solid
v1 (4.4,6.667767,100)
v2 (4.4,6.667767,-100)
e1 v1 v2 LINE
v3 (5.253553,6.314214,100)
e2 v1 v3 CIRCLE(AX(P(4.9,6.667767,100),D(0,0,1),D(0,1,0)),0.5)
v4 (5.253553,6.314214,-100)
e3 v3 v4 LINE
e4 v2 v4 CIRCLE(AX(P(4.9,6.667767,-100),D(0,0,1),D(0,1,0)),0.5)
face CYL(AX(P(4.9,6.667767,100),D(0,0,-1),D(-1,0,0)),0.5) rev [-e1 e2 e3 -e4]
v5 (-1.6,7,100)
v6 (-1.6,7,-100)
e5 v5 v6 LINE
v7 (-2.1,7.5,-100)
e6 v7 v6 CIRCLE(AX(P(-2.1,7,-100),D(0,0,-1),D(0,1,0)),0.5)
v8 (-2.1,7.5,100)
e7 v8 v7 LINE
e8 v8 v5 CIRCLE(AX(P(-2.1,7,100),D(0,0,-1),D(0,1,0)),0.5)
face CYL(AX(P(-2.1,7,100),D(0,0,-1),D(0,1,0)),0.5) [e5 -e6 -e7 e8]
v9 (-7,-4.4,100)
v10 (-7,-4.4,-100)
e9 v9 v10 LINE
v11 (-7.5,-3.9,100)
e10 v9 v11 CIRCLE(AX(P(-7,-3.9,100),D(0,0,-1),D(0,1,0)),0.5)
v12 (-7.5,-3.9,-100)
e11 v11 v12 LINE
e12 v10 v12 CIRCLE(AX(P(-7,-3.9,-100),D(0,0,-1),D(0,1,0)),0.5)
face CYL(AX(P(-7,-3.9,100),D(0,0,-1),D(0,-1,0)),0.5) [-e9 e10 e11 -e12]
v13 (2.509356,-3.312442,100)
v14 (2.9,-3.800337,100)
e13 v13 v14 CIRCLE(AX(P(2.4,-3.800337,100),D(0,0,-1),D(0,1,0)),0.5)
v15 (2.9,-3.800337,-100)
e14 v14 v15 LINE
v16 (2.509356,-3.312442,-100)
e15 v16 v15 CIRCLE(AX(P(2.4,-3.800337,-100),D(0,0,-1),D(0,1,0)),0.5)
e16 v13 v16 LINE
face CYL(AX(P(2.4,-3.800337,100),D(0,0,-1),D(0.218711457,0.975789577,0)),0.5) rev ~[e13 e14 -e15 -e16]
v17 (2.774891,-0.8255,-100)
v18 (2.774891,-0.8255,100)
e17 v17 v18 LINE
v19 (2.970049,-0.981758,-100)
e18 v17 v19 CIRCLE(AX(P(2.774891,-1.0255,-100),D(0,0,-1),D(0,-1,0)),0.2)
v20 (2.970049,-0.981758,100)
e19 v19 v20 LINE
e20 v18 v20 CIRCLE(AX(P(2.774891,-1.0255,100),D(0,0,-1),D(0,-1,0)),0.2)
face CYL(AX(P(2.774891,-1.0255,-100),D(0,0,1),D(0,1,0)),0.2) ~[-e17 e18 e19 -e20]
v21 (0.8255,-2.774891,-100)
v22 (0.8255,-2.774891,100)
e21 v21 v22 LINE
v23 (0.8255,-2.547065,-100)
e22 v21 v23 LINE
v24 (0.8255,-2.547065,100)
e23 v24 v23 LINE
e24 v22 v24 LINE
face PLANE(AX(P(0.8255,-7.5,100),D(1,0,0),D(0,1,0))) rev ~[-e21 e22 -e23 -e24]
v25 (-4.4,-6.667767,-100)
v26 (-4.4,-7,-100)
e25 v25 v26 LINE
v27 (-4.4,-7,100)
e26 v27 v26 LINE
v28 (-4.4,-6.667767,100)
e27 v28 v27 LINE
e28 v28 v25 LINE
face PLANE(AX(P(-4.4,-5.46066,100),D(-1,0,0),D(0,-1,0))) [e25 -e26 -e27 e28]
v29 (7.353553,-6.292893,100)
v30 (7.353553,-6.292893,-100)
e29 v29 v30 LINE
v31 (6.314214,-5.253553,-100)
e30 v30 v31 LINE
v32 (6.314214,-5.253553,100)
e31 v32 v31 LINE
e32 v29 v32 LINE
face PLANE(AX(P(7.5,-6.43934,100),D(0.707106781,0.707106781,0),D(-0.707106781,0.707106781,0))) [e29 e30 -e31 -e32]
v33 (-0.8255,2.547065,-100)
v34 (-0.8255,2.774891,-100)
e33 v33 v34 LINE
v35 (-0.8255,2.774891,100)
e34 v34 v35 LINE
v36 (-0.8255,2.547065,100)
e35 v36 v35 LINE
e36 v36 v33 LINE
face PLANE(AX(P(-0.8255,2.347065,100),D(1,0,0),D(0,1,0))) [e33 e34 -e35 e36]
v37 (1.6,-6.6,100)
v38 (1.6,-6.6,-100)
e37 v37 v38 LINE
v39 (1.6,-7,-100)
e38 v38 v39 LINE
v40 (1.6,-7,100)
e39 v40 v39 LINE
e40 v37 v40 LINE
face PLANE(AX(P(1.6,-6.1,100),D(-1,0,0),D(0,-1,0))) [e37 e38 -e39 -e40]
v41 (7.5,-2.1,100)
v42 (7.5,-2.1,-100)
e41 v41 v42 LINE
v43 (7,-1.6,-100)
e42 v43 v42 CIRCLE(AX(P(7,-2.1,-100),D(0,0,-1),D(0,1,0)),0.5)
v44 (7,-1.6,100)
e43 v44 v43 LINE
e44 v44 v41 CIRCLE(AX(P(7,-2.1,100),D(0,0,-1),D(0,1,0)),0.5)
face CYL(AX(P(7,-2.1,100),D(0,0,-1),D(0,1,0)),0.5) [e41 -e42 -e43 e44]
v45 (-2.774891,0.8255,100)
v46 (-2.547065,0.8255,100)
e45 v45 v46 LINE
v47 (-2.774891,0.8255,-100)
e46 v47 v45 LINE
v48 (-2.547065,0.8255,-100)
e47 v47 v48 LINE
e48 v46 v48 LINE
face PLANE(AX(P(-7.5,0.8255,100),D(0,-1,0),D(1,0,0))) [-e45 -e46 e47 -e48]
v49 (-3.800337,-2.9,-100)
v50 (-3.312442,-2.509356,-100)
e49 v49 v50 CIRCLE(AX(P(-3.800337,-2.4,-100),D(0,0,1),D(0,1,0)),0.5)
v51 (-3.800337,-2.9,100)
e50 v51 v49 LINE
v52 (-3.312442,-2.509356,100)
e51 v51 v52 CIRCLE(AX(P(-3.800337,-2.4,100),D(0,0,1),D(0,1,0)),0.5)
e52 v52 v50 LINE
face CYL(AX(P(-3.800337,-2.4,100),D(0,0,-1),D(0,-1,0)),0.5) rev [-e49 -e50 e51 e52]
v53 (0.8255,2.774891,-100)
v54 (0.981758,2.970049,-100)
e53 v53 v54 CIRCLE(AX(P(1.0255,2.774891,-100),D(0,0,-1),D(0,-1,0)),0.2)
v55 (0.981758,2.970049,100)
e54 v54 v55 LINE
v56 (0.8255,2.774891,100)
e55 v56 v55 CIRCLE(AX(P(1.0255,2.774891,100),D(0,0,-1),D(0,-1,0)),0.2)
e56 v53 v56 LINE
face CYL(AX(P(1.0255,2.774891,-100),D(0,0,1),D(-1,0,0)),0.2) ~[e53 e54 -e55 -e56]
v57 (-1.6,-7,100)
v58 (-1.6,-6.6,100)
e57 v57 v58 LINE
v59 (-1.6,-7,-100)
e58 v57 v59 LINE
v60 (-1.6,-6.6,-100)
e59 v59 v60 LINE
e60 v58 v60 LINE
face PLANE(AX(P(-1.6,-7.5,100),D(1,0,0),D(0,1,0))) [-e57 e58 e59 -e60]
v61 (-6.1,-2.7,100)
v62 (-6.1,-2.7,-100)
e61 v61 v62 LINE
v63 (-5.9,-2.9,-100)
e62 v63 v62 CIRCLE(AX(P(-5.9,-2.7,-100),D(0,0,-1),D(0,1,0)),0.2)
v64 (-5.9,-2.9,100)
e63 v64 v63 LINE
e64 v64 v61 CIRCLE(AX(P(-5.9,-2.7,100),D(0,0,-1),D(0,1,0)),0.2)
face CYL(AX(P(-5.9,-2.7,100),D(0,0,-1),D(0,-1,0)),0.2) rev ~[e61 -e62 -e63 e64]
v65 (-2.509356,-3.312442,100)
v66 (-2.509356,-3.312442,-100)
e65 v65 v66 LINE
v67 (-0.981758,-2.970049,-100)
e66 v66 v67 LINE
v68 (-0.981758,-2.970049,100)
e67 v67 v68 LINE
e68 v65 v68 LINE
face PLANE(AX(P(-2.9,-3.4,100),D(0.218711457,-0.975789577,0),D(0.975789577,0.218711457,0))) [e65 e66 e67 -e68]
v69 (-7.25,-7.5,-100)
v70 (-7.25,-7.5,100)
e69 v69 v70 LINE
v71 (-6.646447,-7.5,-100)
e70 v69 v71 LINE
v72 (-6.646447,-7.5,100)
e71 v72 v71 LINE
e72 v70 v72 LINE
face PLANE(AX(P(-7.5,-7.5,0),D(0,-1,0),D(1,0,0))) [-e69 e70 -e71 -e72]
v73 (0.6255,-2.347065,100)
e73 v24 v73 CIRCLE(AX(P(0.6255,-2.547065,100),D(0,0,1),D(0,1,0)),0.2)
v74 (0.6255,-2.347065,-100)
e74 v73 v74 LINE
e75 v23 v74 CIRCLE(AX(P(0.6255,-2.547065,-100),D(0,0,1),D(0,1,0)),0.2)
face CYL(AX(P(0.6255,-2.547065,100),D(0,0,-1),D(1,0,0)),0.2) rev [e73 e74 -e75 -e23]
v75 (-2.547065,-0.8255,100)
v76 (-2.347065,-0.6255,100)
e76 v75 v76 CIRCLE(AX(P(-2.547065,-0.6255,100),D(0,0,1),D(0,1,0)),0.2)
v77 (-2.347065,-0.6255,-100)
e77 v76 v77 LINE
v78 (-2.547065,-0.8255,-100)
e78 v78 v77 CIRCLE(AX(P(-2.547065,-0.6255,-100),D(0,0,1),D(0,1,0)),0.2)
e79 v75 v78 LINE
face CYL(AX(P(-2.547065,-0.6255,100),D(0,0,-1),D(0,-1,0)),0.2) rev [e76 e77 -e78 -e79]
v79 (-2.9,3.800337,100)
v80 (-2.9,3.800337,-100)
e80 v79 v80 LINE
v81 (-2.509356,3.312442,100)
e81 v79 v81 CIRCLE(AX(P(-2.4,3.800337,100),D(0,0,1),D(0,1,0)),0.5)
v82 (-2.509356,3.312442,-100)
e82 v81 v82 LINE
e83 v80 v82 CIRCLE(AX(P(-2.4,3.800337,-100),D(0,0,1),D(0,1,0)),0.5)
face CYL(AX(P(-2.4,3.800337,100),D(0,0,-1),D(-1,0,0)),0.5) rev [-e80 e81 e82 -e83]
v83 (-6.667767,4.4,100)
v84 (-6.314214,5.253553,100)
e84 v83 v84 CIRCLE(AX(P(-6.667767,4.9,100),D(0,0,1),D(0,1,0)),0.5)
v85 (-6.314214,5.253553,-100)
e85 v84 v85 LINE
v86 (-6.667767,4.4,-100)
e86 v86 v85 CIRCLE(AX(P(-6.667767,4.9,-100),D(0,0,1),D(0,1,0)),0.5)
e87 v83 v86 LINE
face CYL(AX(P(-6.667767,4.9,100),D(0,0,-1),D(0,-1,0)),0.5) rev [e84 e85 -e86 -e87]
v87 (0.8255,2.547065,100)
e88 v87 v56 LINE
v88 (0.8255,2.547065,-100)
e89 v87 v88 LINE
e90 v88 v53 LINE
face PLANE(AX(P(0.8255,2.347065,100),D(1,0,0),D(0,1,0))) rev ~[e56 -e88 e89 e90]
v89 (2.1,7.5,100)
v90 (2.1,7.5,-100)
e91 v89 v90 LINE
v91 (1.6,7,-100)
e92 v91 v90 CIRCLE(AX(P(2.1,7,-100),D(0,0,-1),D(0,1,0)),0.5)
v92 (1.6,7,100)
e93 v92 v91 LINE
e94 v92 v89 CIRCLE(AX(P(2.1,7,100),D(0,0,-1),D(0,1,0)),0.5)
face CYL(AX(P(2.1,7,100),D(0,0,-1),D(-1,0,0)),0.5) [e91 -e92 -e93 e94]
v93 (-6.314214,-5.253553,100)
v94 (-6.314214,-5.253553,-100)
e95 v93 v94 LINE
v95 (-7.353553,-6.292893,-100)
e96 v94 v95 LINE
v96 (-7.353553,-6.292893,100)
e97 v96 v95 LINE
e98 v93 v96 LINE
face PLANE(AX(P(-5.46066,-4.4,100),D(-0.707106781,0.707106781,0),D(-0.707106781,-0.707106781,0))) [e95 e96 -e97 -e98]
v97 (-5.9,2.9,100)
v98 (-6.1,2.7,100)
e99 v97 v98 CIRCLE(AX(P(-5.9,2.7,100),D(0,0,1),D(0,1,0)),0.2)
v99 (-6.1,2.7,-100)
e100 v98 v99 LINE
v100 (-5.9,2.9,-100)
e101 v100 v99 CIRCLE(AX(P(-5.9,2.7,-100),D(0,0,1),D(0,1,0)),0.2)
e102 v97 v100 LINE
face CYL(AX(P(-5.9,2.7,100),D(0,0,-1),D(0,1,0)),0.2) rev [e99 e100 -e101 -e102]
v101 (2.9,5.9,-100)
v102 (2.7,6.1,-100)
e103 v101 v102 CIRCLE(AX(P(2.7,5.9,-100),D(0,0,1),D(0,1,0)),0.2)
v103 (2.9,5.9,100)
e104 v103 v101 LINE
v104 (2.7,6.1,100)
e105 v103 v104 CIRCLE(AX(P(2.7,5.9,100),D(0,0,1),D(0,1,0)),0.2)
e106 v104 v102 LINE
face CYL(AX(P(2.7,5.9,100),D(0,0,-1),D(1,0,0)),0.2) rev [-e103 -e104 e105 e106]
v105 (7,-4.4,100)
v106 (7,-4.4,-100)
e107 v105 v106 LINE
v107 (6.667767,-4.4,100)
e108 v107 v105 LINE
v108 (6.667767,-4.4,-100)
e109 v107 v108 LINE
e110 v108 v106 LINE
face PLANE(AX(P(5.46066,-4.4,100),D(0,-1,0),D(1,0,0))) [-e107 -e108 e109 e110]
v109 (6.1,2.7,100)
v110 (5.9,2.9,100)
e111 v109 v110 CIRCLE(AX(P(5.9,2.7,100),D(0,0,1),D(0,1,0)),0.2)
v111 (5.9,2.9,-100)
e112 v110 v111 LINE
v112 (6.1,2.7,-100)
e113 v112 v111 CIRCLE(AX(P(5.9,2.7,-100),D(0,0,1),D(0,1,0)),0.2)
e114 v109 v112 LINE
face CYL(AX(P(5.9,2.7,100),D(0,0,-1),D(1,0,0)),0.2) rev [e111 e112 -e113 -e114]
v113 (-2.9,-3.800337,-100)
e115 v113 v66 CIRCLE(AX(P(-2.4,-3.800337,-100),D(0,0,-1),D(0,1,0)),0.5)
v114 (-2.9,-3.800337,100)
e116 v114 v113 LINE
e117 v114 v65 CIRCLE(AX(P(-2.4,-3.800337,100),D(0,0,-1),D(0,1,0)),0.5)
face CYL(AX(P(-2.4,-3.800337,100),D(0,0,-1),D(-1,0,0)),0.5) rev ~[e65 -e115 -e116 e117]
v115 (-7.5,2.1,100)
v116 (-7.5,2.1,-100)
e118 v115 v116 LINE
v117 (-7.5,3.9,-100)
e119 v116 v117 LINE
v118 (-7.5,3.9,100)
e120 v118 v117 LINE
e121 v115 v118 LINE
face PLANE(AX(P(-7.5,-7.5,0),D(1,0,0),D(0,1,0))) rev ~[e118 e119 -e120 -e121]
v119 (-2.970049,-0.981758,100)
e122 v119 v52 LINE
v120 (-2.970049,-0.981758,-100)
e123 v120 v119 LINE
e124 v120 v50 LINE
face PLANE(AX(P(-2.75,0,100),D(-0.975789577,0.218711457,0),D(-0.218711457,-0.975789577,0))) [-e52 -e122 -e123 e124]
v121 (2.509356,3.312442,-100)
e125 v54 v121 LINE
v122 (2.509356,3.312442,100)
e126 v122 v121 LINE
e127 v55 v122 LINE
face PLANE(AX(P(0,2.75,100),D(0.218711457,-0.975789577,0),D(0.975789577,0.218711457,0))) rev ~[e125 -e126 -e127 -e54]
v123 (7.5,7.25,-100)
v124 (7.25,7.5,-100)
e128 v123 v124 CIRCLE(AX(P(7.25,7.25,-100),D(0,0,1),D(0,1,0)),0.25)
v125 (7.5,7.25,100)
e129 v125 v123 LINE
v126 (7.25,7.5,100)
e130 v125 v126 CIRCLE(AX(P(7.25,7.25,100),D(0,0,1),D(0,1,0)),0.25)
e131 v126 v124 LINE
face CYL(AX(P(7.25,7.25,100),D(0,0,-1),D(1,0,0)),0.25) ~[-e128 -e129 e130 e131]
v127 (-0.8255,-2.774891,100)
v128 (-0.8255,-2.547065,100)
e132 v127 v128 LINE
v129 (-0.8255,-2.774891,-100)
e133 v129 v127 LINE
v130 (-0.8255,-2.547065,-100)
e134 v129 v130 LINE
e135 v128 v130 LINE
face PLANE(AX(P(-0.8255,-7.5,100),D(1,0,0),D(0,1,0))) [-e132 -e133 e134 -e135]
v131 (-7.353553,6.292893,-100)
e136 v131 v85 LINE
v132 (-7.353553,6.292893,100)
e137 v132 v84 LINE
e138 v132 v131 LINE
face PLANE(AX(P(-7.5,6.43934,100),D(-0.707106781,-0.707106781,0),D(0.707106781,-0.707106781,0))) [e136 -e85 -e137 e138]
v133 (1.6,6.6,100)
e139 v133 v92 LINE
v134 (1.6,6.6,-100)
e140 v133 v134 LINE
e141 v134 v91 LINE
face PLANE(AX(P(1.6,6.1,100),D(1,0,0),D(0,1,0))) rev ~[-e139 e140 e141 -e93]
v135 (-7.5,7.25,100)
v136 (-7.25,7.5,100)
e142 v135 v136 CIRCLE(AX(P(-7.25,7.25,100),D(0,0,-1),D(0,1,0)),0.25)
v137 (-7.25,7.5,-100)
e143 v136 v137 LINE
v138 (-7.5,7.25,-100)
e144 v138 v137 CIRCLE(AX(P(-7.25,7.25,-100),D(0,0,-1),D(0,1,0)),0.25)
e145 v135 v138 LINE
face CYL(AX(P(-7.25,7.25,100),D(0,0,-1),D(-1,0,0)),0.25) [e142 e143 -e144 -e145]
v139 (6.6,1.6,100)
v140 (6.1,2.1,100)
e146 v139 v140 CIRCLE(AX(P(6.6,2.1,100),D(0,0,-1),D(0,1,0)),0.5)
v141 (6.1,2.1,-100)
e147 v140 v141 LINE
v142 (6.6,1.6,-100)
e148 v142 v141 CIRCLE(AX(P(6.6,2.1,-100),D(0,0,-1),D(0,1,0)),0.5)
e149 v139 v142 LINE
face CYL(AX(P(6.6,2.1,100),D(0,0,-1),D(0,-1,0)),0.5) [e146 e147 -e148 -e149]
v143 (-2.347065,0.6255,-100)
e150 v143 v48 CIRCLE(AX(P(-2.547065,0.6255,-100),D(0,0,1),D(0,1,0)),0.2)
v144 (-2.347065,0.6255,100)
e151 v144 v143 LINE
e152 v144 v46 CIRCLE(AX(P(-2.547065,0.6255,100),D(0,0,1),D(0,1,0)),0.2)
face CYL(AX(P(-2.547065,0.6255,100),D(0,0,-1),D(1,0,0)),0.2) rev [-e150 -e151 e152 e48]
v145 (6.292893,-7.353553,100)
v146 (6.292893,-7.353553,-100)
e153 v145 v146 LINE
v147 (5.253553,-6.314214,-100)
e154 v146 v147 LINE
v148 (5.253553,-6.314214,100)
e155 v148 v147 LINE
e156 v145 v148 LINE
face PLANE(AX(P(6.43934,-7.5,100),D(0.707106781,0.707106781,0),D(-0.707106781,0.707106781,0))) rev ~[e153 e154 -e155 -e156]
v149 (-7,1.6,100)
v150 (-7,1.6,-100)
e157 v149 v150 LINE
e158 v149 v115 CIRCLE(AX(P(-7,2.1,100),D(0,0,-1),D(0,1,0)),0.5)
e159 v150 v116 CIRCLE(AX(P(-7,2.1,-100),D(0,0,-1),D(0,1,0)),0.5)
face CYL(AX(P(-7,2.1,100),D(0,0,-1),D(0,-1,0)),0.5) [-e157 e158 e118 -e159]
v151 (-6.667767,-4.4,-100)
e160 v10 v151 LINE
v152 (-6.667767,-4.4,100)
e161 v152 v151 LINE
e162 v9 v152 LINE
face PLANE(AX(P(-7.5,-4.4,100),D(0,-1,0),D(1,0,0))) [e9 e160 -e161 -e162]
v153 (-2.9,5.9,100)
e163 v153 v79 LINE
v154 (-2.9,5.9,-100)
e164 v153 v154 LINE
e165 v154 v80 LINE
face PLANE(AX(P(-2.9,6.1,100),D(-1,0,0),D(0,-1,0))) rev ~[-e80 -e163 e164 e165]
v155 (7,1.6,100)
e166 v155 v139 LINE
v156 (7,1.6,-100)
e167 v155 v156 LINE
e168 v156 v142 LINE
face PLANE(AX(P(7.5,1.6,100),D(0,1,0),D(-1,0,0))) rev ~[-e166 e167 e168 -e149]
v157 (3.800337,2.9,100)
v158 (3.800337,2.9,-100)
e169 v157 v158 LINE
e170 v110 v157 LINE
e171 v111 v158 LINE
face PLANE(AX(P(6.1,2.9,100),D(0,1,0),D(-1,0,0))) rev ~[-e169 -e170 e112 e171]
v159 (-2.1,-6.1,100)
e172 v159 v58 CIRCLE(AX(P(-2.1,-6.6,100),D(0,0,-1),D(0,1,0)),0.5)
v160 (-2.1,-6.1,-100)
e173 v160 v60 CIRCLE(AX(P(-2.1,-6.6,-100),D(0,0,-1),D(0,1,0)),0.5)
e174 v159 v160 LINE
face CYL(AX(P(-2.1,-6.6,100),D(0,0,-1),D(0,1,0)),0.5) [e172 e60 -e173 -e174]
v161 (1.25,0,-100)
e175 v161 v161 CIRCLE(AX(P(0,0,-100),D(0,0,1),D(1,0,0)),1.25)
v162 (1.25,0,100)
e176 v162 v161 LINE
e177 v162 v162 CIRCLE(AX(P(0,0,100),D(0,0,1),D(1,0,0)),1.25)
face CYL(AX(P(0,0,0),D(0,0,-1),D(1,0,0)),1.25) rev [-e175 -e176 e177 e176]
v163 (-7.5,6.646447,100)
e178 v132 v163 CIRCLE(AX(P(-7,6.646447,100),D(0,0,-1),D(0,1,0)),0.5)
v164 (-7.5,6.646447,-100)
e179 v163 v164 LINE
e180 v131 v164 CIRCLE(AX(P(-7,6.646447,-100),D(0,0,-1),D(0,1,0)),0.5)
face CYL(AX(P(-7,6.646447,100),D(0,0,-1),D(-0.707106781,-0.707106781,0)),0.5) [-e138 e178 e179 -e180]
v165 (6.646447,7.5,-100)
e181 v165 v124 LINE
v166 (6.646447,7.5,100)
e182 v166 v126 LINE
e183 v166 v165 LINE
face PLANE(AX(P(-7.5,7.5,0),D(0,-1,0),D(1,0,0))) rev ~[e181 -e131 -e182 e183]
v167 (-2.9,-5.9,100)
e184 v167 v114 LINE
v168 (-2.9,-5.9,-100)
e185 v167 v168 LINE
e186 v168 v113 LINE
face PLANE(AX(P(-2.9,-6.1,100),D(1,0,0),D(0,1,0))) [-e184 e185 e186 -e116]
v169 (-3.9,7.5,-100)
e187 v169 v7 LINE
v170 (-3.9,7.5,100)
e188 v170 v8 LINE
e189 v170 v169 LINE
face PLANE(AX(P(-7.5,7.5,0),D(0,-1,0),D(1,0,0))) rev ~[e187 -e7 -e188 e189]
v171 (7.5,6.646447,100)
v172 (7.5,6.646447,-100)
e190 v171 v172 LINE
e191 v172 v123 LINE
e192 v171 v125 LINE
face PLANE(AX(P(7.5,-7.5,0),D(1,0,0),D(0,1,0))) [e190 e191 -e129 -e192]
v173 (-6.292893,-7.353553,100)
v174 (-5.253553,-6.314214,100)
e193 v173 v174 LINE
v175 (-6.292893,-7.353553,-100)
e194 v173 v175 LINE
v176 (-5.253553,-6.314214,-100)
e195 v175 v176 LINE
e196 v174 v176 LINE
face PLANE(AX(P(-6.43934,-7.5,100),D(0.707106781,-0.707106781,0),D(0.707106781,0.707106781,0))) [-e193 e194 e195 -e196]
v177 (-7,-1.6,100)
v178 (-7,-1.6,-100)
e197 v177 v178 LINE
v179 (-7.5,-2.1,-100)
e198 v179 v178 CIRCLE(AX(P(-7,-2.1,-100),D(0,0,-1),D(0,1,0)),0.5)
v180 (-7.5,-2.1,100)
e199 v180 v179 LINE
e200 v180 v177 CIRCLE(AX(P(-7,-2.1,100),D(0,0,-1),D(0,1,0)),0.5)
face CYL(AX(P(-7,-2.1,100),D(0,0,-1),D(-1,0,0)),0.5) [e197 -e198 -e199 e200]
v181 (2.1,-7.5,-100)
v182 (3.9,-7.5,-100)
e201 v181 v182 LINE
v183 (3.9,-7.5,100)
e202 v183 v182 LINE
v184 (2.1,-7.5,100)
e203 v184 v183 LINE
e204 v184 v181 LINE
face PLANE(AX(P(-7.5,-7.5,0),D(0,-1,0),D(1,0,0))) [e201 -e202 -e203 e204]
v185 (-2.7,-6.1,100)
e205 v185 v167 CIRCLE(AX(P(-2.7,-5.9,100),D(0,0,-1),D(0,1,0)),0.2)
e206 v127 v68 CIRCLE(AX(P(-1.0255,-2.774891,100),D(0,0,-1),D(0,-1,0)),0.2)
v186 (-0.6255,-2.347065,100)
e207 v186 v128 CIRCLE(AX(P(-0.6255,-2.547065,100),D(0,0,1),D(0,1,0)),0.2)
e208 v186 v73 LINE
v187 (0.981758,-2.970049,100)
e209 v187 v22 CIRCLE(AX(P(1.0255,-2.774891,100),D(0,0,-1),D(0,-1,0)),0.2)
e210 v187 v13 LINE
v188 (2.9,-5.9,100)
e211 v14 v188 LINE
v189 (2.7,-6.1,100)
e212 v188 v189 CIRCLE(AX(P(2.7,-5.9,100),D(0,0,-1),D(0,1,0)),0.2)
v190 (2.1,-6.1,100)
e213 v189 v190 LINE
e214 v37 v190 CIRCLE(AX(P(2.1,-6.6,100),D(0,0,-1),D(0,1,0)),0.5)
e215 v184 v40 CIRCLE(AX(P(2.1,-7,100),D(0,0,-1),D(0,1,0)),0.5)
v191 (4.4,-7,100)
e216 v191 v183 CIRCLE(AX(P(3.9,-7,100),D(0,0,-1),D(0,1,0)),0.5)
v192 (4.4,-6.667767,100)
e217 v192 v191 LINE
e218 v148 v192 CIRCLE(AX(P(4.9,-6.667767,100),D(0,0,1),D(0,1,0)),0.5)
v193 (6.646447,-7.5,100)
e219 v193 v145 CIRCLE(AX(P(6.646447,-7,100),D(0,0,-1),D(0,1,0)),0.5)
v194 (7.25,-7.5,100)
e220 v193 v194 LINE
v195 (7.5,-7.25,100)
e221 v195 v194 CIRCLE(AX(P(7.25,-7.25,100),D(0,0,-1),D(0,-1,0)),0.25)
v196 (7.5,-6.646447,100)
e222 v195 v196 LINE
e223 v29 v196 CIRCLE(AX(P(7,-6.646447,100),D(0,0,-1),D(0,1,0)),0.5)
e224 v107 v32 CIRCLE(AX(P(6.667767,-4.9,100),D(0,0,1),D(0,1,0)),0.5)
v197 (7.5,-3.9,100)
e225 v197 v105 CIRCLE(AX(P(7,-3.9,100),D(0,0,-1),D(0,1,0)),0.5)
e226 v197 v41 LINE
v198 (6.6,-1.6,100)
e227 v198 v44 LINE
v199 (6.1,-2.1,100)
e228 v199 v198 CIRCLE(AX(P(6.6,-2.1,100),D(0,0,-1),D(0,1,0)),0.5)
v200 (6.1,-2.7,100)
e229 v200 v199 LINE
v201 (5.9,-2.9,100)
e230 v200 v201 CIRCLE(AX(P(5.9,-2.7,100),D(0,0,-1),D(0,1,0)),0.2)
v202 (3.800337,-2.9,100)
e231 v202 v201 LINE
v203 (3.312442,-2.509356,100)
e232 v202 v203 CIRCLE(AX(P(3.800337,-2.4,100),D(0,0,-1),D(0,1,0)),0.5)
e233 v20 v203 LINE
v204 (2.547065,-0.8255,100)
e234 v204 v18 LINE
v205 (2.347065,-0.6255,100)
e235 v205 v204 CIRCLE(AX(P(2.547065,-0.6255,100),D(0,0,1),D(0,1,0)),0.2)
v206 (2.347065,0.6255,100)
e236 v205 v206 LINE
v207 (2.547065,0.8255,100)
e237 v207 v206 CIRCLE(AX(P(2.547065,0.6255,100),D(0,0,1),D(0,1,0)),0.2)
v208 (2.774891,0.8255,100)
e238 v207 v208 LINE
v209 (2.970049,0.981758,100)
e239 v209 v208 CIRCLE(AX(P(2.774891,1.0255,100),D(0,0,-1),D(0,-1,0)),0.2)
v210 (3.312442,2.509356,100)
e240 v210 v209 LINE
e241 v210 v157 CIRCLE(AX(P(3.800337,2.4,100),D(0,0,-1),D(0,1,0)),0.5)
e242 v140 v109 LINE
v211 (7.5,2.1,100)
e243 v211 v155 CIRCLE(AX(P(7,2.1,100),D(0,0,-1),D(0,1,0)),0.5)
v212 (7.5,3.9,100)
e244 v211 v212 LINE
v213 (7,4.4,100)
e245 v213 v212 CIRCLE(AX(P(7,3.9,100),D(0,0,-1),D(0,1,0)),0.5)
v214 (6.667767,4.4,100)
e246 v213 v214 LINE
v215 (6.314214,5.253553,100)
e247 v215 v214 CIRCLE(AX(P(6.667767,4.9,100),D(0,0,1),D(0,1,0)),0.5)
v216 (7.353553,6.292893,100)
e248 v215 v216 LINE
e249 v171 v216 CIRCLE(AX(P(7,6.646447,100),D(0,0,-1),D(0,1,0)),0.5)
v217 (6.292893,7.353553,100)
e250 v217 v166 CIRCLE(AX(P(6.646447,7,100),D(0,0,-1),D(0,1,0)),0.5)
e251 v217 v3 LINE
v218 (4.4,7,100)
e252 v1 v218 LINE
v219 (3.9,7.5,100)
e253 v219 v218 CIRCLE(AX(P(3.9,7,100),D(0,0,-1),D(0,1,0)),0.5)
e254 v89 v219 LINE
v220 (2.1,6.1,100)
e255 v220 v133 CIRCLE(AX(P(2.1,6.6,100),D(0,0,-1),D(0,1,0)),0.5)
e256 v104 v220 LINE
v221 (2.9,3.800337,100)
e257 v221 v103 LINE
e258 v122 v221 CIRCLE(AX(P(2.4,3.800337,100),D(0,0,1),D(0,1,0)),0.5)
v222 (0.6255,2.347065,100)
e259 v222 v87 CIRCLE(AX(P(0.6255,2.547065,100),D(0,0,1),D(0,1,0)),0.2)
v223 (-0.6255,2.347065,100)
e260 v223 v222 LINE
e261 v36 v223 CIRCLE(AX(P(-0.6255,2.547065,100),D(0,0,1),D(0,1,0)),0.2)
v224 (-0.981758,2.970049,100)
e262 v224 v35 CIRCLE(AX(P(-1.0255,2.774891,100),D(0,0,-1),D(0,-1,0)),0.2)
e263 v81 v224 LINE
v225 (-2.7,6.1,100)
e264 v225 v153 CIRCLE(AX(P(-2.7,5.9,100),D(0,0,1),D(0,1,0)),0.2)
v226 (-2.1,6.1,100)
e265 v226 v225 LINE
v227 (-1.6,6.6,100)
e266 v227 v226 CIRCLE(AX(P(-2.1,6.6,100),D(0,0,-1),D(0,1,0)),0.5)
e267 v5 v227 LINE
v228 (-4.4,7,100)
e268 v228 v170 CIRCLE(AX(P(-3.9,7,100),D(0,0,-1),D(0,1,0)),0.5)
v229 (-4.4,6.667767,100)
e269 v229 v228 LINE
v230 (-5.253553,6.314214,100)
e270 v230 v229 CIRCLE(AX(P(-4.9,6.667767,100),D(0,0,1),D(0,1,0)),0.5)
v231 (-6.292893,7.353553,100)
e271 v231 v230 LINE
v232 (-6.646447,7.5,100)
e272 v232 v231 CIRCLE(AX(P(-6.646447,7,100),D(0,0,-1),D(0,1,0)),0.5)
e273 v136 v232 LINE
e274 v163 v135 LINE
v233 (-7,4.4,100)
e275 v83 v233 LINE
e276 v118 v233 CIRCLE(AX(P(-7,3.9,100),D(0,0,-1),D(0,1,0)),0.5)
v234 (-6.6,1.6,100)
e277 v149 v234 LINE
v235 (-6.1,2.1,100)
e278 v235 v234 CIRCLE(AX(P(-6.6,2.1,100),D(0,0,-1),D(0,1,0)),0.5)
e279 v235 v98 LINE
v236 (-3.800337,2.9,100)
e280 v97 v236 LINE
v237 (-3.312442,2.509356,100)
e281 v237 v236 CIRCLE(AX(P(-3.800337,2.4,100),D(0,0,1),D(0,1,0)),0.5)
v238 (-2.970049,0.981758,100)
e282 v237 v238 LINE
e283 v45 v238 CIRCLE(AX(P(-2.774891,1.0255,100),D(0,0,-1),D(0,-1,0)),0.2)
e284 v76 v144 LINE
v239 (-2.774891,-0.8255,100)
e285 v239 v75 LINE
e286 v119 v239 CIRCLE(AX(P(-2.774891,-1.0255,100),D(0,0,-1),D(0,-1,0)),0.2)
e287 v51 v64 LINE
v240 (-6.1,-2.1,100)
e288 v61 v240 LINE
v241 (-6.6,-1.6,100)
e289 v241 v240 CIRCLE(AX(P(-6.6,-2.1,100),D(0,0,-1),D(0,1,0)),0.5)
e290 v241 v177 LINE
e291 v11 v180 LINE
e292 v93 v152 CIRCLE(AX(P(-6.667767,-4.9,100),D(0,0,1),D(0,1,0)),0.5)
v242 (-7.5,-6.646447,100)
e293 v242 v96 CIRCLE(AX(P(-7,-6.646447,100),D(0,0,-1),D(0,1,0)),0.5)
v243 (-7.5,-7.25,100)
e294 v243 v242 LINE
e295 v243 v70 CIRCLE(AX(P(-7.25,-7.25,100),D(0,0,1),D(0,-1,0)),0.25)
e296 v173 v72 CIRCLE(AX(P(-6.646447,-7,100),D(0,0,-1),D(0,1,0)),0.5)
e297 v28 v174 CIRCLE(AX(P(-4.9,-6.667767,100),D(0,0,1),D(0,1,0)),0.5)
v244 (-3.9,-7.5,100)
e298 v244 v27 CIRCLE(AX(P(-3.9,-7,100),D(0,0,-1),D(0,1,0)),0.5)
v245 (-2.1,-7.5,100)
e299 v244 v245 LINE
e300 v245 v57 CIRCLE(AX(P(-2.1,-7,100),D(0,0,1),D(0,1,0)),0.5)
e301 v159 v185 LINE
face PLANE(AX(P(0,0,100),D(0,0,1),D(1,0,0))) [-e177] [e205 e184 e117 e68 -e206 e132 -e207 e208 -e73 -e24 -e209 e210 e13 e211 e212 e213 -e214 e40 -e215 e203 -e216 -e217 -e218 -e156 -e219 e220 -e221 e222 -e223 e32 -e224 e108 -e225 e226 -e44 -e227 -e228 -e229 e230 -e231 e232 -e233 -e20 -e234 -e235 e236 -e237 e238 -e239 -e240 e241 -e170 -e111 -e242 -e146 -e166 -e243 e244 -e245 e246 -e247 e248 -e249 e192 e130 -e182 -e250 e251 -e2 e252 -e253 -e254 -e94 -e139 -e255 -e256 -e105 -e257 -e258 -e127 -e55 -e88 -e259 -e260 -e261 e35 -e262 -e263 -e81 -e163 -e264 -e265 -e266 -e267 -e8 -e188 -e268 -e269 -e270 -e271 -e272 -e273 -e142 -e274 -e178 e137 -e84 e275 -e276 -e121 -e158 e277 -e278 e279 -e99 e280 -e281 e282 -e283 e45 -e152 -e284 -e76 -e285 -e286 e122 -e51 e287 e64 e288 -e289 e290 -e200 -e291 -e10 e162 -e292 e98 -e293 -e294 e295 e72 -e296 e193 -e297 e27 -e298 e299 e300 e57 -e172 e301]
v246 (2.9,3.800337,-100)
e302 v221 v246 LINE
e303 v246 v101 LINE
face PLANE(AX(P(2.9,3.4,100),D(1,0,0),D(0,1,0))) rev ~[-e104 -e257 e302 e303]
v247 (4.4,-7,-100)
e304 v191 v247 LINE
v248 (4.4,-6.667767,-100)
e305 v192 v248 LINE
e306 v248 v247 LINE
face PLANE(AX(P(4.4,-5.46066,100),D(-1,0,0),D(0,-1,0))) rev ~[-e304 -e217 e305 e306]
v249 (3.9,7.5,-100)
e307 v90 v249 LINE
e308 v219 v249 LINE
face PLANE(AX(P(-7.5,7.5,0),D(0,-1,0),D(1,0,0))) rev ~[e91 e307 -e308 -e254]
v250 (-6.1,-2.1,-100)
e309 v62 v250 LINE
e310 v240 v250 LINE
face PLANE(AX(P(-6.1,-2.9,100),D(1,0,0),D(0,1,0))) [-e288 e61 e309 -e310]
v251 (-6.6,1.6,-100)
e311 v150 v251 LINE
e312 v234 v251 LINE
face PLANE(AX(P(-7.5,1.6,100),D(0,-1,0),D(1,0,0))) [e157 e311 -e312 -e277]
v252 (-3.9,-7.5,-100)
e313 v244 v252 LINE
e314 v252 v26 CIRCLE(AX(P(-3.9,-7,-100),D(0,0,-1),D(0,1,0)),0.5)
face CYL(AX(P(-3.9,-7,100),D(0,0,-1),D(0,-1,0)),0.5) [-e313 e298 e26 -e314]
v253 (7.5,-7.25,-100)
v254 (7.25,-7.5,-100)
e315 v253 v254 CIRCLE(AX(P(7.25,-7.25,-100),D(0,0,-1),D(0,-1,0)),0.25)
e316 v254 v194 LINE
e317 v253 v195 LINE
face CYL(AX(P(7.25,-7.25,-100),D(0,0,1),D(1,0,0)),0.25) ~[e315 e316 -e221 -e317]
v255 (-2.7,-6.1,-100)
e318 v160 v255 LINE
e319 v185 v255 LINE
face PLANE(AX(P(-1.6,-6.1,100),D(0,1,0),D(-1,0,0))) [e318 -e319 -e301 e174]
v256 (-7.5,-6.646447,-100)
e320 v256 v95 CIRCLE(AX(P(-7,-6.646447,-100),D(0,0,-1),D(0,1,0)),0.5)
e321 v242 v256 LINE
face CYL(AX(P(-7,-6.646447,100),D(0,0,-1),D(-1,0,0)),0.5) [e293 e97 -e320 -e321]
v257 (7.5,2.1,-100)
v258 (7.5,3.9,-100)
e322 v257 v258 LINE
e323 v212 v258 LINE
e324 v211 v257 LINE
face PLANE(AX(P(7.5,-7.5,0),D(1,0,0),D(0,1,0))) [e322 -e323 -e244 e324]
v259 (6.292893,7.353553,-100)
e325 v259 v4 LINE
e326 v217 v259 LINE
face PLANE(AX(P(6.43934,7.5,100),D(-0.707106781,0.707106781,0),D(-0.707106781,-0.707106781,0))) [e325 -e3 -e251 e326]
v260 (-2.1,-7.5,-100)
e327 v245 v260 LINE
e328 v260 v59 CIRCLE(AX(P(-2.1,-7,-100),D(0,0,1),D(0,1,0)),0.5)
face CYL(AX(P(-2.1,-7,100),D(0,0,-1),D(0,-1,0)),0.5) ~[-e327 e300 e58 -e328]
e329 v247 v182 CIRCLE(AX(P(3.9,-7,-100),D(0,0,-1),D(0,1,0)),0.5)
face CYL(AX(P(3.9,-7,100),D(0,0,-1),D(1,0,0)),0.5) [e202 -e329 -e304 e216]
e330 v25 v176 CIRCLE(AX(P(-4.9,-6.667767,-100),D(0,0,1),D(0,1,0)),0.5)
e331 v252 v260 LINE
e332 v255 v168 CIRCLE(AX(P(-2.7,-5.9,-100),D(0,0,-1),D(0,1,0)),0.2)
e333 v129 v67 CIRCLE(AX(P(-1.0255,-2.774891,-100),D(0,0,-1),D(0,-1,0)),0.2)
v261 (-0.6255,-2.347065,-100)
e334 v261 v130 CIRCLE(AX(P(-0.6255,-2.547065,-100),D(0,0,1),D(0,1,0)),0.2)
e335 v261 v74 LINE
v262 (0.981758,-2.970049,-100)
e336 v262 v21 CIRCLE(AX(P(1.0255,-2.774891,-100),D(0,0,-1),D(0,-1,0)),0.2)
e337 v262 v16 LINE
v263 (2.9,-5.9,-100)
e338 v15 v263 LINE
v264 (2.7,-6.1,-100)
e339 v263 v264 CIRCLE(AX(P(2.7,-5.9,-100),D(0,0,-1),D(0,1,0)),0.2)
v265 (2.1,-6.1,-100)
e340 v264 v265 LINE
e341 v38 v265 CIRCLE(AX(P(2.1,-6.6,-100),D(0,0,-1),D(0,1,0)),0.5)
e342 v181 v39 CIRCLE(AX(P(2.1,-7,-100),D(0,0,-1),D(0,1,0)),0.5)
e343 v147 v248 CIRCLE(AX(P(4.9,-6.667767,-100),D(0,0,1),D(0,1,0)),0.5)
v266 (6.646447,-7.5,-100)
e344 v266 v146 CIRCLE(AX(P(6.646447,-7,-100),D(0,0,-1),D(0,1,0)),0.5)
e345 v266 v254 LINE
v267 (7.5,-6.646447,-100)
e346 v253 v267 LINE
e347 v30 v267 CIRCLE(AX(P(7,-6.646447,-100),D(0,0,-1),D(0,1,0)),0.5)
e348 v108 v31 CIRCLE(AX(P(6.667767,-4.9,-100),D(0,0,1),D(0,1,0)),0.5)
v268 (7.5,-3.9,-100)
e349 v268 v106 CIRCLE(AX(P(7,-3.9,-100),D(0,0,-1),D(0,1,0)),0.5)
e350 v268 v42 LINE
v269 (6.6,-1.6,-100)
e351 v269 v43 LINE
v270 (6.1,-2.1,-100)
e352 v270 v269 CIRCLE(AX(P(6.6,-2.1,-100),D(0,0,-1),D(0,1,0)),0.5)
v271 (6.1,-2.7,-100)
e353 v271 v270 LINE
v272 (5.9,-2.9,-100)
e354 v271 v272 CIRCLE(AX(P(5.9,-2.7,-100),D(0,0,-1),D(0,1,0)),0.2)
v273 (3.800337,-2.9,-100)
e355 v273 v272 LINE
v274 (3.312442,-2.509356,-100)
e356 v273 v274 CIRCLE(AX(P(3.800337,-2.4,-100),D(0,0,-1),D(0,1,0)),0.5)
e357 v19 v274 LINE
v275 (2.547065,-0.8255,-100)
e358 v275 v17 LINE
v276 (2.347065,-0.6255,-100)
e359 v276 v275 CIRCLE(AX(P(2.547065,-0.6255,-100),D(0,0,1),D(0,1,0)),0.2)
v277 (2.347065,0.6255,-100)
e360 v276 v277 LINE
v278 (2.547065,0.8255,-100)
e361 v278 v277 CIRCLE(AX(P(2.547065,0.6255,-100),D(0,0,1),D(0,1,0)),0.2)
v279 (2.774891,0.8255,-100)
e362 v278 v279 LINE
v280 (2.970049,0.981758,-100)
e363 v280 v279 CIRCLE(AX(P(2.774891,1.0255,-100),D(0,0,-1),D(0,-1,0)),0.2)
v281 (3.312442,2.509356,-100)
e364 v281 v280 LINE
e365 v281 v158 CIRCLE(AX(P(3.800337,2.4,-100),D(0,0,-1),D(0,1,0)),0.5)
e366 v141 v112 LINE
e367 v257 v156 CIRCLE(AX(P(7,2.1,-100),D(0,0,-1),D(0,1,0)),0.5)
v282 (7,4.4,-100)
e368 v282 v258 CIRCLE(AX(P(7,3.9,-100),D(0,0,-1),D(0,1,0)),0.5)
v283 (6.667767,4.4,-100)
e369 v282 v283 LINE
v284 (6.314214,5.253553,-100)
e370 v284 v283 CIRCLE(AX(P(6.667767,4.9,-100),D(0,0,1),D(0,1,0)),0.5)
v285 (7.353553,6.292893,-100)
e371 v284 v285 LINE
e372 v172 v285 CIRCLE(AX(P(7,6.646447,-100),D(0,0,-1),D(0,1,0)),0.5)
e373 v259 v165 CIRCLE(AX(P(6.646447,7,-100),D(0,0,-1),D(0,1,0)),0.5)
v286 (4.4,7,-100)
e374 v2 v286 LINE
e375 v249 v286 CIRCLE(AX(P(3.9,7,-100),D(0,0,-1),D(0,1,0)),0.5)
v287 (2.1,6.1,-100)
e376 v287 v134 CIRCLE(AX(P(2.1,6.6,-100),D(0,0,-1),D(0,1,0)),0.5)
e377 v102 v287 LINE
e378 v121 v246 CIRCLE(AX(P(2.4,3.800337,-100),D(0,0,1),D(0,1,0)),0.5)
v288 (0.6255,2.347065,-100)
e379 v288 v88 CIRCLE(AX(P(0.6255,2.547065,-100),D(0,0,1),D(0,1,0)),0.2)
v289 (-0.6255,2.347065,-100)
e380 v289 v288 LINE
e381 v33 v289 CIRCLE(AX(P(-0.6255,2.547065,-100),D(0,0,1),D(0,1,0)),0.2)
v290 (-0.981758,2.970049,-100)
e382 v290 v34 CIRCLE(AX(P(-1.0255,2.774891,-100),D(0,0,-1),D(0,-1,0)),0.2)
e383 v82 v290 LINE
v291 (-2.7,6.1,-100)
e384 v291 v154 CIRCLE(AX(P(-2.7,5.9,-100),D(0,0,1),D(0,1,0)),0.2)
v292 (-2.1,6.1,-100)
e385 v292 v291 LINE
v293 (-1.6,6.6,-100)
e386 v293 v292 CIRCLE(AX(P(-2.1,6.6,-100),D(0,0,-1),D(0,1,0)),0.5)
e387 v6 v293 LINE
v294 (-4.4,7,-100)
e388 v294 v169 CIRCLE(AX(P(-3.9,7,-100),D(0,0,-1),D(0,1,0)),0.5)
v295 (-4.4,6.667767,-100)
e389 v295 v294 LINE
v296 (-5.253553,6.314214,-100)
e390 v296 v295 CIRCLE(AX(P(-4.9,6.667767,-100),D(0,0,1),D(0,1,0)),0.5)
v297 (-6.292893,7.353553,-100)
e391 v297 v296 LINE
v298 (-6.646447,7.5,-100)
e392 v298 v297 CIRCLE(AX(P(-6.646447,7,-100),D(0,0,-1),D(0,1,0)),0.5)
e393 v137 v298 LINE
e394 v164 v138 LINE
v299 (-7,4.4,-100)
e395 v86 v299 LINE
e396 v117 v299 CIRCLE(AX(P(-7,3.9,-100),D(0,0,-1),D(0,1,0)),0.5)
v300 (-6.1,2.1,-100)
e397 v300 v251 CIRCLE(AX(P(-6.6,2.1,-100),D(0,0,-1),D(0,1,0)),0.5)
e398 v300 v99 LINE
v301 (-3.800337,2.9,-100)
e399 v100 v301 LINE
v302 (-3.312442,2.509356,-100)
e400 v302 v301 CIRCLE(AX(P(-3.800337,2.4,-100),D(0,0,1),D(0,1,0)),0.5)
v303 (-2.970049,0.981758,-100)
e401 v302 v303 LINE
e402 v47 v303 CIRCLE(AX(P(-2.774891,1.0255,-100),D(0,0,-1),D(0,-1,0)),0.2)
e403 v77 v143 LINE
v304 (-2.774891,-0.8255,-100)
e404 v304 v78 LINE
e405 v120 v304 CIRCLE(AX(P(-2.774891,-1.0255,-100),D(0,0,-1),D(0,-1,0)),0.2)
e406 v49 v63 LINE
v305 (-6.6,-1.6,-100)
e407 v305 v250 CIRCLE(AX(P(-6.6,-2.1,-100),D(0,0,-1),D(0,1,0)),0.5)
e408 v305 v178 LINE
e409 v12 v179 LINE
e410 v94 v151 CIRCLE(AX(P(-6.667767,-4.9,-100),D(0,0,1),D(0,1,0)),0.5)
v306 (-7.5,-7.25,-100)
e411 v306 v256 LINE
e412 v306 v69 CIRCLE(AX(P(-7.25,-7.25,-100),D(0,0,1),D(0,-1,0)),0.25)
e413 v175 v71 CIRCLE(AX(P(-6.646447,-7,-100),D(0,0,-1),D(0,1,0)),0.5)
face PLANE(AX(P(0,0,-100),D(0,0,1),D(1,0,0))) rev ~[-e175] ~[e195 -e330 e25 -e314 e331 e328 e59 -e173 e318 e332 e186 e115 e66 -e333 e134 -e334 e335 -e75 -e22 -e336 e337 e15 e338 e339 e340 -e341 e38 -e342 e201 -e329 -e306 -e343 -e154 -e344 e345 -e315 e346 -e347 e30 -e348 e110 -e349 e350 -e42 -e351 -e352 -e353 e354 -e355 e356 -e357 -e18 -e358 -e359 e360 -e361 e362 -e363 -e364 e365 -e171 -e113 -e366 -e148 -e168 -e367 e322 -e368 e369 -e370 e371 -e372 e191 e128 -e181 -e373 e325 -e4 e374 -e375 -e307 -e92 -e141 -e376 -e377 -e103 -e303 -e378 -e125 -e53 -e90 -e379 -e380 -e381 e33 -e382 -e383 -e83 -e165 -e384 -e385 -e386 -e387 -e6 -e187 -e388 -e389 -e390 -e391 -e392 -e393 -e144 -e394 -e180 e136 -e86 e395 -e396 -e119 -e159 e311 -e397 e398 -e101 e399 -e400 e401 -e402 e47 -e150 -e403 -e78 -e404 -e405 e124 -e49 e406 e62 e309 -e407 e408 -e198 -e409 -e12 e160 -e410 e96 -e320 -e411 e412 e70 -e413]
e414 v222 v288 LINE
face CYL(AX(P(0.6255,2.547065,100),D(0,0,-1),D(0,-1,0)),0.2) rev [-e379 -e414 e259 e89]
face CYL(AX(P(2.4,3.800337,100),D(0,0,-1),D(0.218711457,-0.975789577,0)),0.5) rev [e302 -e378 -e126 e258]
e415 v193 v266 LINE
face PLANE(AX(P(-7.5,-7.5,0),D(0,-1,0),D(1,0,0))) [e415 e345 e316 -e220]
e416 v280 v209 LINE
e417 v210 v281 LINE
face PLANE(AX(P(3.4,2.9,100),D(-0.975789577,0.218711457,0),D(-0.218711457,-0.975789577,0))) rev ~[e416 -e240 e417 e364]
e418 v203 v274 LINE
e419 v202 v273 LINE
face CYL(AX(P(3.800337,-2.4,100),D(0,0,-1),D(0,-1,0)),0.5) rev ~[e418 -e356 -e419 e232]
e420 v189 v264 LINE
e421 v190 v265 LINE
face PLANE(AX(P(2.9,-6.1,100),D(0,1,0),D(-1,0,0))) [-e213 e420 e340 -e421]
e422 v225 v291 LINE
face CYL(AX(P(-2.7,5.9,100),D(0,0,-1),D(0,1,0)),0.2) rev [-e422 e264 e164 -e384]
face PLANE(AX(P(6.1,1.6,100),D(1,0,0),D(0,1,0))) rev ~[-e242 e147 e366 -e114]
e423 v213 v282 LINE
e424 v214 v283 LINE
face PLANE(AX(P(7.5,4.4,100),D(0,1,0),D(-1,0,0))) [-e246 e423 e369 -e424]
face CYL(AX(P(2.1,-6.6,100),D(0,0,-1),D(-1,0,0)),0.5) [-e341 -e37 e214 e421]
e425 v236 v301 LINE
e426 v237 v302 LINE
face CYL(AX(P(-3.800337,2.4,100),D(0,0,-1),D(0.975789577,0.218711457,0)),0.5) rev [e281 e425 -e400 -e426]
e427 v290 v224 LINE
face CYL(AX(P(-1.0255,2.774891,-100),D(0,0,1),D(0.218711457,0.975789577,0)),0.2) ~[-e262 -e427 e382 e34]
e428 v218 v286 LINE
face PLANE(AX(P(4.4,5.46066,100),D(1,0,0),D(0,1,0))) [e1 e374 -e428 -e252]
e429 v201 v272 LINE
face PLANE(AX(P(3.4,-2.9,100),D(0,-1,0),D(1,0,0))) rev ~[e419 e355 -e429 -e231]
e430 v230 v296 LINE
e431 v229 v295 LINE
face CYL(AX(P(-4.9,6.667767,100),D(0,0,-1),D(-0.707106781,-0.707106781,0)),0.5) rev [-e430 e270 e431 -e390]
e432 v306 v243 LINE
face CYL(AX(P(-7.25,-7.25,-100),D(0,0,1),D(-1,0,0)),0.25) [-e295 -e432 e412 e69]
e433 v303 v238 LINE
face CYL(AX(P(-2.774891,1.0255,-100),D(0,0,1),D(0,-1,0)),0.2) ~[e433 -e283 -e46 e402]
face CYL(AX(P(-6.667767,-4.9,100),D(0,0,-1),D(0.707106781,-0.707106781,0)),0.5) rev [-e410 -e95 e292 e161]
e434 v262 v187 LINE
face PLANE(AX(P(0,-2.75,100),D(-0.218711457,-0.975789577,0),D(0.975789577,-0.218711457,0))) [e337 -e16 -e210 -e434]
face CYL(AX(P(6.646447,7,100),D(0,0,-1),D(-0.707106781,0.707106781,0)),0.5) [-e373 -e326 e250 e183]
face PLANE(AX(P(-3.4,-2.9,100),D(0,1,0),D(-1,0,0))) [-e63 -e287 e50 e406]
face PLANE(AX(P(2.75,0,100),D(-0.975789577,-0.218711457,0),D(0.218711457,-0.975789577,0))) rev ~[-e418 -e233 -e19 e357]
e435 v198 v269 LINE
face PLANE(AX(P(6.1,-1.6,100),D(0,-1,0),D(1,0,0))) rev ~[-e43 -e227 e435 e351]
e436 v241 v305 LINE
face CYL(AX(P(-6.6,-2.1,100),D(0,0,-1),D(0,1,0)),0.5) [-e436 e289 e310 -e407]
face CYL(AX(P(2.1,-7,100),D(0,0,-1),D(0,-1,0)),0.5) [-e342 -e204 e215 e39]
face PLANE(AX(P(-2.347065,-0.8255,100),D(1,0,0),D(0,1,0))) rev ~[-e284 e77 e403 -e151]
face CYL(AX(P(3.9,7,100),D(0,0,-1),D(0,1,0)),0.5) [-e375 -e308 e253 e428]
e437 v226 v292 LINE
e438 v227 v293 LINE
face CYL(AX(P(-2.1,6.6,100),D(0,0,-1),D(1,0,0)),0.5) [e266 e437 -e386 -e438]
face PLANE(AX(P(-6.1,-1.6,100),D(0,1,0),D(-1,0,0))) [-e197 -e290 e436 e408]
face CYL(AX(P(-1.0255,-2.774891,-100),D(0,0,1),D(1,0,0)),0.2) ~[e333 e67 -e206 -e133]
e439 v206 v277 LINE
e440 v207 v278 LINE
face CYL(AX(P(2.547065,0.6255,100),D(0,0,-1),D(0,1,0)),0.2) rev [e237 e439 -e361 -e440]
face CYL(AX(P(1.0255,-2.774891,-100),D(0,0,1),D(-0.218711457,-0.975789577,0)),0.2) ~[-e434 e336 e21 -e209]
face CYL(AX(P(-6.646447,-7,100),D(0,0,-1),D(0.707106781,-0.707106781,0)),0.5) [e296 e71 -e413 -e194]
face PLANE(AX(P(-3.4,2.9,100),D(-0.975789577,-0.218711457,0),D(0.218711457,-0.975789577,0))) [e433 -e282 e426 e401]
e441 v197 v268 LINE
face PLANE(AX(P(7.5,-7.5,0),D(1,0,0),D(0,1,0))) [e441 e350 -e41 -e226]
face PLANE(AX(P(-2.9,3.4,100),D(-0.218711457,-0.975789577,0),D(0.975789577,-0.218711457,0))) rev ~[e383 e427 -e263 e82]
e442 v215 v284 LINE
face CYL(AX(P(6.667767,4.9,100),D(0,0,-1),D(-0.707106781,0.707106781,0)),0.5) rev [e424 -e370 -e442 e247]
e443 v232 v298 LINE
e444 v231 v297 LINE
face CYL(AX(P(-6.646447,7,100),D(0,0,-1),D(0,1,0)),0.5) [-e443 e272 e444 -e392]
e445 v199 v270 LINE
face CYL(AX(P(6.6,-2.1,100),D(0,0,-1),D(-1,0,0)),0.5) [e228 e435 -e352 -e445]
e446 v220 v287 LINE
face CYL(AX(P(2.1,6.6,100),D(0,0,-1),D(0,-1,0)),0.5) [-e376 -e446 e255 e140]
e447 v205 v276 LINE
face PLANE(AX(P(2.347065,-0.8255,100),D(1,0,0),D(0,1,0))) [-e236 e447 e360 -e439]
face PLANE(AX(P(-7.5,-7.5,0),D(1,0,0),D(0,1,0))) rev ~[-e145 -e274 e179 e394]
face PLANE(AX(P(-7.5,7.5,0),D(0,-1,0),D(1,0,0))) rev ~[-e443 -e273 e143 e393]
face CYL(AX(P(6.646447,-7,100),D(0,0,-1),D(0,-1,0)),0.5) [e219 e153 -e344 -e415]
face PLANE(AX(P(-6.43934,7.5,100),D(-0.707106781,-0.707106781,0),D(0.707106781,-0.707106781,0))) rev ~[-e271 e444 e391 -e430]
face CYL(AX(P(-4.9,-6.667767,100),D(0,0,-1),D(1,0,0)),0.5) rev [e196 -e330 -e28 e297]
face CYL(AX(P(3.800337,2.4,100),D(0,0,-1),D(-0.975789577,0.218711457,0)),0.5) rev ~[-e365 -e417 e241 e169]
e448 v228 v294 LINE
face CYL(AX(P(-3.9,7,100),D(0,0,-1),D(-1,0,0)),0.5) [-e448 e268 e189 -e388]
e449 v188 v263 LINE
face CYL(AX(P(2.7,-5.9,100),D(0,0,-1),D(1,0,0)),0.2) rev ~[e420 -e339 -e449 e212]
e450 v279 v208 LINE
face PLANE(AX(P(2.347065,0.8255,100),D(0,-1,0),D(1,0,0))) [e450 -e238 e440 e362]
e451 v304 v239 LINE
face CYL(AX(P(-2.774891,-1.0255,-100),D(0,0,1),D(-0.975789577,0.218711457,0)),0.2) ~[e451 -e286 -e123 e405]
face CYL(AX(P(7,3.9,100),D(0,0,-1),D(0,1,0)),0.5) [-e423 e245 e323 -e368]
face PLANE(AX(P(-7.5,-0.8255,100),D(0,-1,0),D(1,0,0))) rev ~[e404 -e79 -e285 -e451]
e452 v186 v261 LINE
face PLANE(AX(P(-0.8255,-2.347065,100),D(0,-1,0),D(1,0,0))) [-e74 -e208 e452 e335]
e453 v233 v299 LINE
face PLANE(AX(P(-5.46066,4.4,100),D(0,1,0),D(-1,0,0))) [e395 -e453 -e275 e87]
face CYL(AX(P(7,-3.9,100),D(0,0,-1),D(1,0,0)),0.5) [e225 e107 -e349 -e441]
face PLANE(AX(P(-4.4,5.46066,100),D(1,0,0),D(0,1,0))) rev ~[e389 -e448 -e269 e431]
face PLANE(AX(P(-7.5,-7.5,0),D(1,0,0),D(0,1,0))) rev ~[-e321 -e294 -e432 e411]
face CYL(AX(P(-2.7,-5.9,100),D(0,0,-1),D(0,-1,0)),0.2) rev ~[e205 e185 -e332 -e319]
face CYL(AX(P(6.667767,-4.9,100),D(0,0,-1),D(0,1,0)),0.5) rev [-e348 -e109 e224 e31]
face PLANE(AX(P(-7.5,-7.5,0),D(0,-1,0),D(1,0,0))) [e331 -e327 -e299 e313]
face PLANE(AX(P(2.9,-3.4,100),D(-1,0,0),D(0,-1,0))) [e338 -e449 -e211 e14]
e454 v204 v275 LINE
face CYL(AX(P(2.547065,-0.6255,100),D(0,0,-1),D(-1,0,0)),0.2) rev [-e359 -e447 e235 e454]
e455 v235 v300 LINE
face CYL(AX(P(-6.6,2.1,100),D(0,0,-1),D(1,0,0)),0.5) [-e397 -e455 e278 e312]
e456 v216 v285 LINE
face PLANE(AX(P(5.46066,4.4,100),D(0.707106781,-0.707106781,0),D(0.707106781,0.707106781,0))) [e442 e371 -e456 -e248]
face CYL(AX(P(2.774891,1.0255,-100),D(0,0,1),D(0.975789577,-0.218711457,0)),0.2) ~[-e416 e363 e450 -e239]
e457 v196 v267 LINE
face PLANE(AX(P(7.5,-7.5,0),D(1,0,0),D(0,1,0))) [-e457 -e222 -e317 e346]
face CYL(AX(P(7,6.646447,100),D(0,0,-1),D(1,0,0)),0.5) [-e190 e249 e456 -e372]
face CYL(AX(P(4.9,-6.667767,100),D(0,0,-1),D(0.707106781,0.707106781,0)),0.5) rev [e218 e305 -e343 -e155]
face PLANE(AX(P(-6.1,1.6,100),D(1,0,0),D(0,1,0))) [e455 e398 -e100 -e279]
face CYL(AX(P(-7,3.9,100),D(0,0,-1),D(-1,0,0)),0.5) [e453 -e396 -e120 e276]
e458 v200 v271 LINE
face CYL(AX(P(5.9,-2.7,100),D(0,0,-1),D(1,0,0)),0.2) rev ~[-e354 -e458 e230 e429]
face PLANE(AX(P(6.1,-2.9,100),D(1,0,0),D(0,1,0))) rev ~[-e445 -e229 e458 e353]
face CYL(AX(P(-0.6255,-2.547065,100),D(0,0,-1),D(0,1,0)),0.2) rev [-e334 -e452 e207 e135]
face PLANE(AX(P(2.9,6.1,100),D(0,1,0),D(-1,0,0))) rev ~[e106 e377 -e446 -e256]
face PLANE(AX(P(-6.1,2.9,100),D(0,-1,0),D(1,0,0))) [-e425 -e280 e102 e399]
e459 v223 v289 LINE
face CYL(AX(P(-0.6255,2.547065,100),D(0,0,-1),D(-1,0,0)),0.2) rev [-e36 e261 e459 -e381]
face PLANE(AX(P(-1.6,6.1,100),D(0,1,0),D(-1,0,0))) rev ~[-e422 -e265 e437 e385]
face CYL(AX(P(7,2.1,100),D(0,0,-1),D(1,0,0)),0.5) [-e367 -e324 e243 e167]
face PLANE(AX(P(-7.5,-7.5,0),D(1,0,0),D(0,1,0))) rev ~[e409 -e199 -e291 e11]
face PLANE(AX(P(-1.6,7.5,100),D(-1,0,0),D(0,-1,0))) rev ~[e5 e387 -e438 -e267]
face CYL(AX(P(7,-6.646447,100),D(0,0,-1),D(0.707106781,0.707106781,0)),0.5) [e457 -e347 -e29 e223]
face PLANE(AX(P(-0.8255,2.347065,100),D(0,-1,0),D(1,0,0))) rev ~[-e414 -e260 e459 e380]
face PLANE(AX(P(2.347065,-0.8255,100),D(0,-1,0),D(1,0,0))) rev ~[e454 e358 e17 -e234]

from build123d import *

# Parameters (mm, degrees)
SKETCH1_W           = 15
SKETCH1_H           = 15
SKETCH1_R           = 1.25
BOSS_EXTRUDE1_DEPTH = 100
FILLET1_R           = 0.25
CUT_EXTRUDE1_DEPTH  = 201
CUT_EXTRUDE3_DEPTH  = 201
FILLET3_R           = 0.5
FILLET4_R           = 0.5
FILLET5_R           = 3
FILLET6_R           = 0.2
CUT_EXTRUDE4_DEPTH  = 201
FILLET8_R           = 0.5
SKETCH6_W           = 5.1529354
SKETCH6_H           = 1.651
SKETCH6_W_2         = 1.651
SKETCH6_H_2         = 5.1529354
CUT_EXTRUDE5_DEPTH  = 201
FILLET10_R          = 0.2


with BuildPart() as part:
    # Sketch1 → Boss-Extrude1 (new body, symmetric)
    with BuildSketch(Plane.XY):
        Rectangle(SKETCH1_W, SKETCH1_H)
        Circle(SKETCH1_R, mode=Mode.SUBTRACT)
    extrude(amount=BOSS_EXTRUDE1_DEPTH, both=True)

    # Fillet1
    fillet1_edges = [part.edges().sort_by_distance(p)[0] for p in [
        (7.5, -7.5, 0),
        (-7.5, -7.5, 0),
        (-7.5, 7.5, 0),
        (7.5, 7.5, 0),
    ]]
    fillet(fillet1_edges, radius=FILLET1_R)

    # Sketch2 → Cut-Extrude1 (cut, through all)
    with BuildSketch(Plane.XY.offset(100)):
        Polygon((-7.5, 1.6), (-6.1, 1.6), (-6.1, 2.9), (-3.4, 2.9), (-3.4, -2.9), (-6.1, -2.9), (-6.1, -1.6), (-7.5, -1.6), align=None)
        Polygon((2.9, 6.1), (1.6, 6.1), (1.6, 7.5), (-1.6, 7.5), (-1.6, 6.1), (-2.9, 6.1), (-2.9, 3.4), (2.9, 3.4), align=None)
        Polygon((-1.6, -7.5), (-1.6, -6.1), (-2.9, -6.1), (-2.9, -3.4), (2.9, -3.4), (2.9, -6.1), (1.6, -6.1), (1.6, -7.5), align=None)
        Polygon((6.1, -2.9), (6.1, -1.6), (7.5, -1.6), (7.5, 1.6), (6.1, 1.6), (6.1, 2.9), (3.4, 2.9), (3.4, -2.9), align=None)
    extrude(amount=-CUT_EXTRUDE1_DEPTH, mode=Mode.SUBTRACT)

    # Sketch4 → Cut-Extrude3 (cut, through all)
    with BuildSketch(Plane.XY.offset(100)):
        Polygon((-3.4, 2.9), (-2.75, 0), (-3.4, -2.9), align=None)
        Polygon((-2.9, 3.4), (0, 2.75), (2.9, 3.4), align=None)
        Polygon((3.4, 2.9), (2.75, 0), (3.4, -2.9), align=None)
        Polygon((-2.9, -3.4), (0, -2.75), (2.9, -3.4), align=None)
    extrude(amount=-CUT_EXTRUDE3_DEPTH, mode=Mode.SUBTRACT)

    # Fillet3
    fillet3_edges = [part.edges().sort_by_distance(p)[0] for p in [
        (1.6, -7.5, 0),
        (-1.6, -7.5, 0),
        (-1.6, -6.1, 0),
        (1.6, -6.1, 0),
        (6.1, 1.6, 0),
        (7.5, 1.6, 0),
        (7.5, -1.6, 0),
        (6.1, -1.6, 0),
        (-7.5, -1.6, 0),
        (-7.5, 1.6, 0),
        (-6.1, 1.6, 0),
        (-6.1, -1.6, 0),
        (-1.6, 6.1, 0),
        (-1.6, 7.5, 0),
        (1.6, 7.5, 0),
        (1.6, 6.1, 0),
    ]]
    fillet(fillet3_edges, radius=FILLET3_R)

    # Fillet4
    fillet4_edges = [part.edges().sort_by_distance(p)[0] for p in [
        (-2.9, -3.4, 0),
        (2.9, -3.4, 0),
        (3.4, -2.9, 0),
        (3.4, 2.9, 0),
        (-3.4, 2.9, 0),
        (-3.4, -2.9, 0),
        (2.9, 3.4, 0),
        (-2.9, 3.4, 0),
    ]]
    fillet(fillet4_edges, radius=FILLET4_R)

    # Fillet5
    fillet5_edges = [part.edges().sort_by_distance(p)[0] for p in [
        (-2.75, 0, 0),
        (0, 2.75, 0),
        (2.75, 0, 0),
        (0, -2.75, 0),
    ]]
    fillet(fillet5_edges, radius=FILLET5_R)

    # Fillet6
    fillet6_edges = [part.edges().sort_by_distance(p)[0] for p in [
        (-2.9, -6.1, 0),
        (2.9, -6.1, 0),
        (6.1, -2.9, 0),
        (6.1, 2.9, 0),
        (-6.1, 2.9, 0),
        (-6.1, -2.9, 0),
        (2.9, 6.1, 0),
        (-2.9, 6.1, 0),
    ]]
    fillet(fillet6_edges, radius=FILLET6_R)

    # Sketch5 → Cut-Extrude4 (cut, through all)
    with BuildSketch(Plane.XY.offset(100)):
        Polygon((-7.5, 6.439339828), (-5.460660172, 4.4), (-7.5, 4.4), align=None)
        Polygon((-6.439339828, 7.5), (-4.4, 5.460660172), (-4.4, 7.5), align=None)
        Polygon((4.4, 7.5), (6.439339828, 7.5), (4.4, 5.460660172), align=None)
        Polygon((7.5, 6.439339828), (7.5, 4.4), (5.460660172, 4.4), align=None)
        Polygon((7.5, -6.439339828), (5.460660172, -4.4), (7.5, -4.4), align=None)
        Polygon((6.439339828, -7.5), (4.4, -5.460660172), (4.4, -7.5), align=None)
        Polygon((-4.4, -7.5), (-6.439339828, -7.5), (-4.4, -5.460660172), align=None)
        Polygon((-7.5, -6.439339828), (-7.5, -4.4), (-5.460660172, -4.4), align=None)
    extrude(amount=-CUT_EXTRUDE4_DEPTH, mode=Mode.SUBTRACT)

    # Fillet8
    fillet8_edges = [part.edges().sort_by_distance(p)[0] for p in [
        (-7.5, 4.4, 0),
        (-7.5, 6.439339828, 0),
        (-5.460660172, 4.4, 0),
        (7.5, -4.4, 0),
        (7.5, -6.439339828, 0),
        (5.460660172, -4.4, 0),
        (5.460660172, 4.4, 0),
        (7.5, 6.439339828, 0),
        (7.5, 4.4, 0),
        (-4.4, 7.5, 0),
        (-4.4, 5.460660172, 0),
        (-6.439339828, 7.5, 0),
        (-5.460660172, -4.4, 0),
        (-7.5, -6.439339828, 0),
        (-7.5, -4.4, 0),
        (4.4, 5.460660172, 0),
        (4.4, 7.5, 0),
        (6.439339828, 7.5, 0),
        (6.439339828, -7.5, 0),
        (4.4, -7.5, 0),
        (4.4, -5.460660172, 0),
        (-6.439339828, -7.5, 0),
        (-4.4, -5.460660172, 0),
        (-4.4, -7.5, 0),
    ]]
    fillet(fillet8_edges, radius=FILLET8_R)

    # Sketch6 → Cut-Extrude5 (cut, through all)
    with BuildSketch(Plane.XY.offset(100)):
        with Locations((4.9235323, 0)):
            Rectangle(SKETCH6_W, SKETCH6_H)
        with Locations((0, -4.9235323)):
            Rectangle(SKETCH6_W_2, SKETCH6_H_2)
        with Locations((-4.9235323, 0)):
            Rectangle(SKETCH6_W, SKETCH6_H)
        with Locations((0, 4.9235323)):
            Rectangle(SKETCH6_W_2, SKETCH6_H_2)
    extrude(amount=-CUT_EXTRUDE5_DEPTH, mode=Mode.SUBTRACT)

    # Fillet10
    fillet10_edges = [part.edges().sort_by_distance(p)[0] for p in [
        (0.8255, -2.935025862, 0),
        (-0.8255, -2.935025862, 0),
        (0.8255, -2.3470646, 0),
        (-0.8255, -2.3470646, 0),
        (2.935025862, 0.8255, 0),
        (2.935025862, -0.8255, 0),
        (2.3470646, 0.8255, 0),
        (2.3470646, -0.8255, 0),
        (-2.935025862, -0.8255, 0),
        (-2.935025862, 0.8255, 0),
        (-2.3470646, -0.8255, 0),
        (-2.3470646, 0.8255, 0),
        (-0.8255, 2.935025862, 0),
        (0.8255, 2.935025862, 0),
        (-0.8255, 2.3470646, 0),
        (0.8255, 2.3470646, 0),
    ]]
    fillet(fillet10_edges, radius=FILLET10_R)


solid = part.part
